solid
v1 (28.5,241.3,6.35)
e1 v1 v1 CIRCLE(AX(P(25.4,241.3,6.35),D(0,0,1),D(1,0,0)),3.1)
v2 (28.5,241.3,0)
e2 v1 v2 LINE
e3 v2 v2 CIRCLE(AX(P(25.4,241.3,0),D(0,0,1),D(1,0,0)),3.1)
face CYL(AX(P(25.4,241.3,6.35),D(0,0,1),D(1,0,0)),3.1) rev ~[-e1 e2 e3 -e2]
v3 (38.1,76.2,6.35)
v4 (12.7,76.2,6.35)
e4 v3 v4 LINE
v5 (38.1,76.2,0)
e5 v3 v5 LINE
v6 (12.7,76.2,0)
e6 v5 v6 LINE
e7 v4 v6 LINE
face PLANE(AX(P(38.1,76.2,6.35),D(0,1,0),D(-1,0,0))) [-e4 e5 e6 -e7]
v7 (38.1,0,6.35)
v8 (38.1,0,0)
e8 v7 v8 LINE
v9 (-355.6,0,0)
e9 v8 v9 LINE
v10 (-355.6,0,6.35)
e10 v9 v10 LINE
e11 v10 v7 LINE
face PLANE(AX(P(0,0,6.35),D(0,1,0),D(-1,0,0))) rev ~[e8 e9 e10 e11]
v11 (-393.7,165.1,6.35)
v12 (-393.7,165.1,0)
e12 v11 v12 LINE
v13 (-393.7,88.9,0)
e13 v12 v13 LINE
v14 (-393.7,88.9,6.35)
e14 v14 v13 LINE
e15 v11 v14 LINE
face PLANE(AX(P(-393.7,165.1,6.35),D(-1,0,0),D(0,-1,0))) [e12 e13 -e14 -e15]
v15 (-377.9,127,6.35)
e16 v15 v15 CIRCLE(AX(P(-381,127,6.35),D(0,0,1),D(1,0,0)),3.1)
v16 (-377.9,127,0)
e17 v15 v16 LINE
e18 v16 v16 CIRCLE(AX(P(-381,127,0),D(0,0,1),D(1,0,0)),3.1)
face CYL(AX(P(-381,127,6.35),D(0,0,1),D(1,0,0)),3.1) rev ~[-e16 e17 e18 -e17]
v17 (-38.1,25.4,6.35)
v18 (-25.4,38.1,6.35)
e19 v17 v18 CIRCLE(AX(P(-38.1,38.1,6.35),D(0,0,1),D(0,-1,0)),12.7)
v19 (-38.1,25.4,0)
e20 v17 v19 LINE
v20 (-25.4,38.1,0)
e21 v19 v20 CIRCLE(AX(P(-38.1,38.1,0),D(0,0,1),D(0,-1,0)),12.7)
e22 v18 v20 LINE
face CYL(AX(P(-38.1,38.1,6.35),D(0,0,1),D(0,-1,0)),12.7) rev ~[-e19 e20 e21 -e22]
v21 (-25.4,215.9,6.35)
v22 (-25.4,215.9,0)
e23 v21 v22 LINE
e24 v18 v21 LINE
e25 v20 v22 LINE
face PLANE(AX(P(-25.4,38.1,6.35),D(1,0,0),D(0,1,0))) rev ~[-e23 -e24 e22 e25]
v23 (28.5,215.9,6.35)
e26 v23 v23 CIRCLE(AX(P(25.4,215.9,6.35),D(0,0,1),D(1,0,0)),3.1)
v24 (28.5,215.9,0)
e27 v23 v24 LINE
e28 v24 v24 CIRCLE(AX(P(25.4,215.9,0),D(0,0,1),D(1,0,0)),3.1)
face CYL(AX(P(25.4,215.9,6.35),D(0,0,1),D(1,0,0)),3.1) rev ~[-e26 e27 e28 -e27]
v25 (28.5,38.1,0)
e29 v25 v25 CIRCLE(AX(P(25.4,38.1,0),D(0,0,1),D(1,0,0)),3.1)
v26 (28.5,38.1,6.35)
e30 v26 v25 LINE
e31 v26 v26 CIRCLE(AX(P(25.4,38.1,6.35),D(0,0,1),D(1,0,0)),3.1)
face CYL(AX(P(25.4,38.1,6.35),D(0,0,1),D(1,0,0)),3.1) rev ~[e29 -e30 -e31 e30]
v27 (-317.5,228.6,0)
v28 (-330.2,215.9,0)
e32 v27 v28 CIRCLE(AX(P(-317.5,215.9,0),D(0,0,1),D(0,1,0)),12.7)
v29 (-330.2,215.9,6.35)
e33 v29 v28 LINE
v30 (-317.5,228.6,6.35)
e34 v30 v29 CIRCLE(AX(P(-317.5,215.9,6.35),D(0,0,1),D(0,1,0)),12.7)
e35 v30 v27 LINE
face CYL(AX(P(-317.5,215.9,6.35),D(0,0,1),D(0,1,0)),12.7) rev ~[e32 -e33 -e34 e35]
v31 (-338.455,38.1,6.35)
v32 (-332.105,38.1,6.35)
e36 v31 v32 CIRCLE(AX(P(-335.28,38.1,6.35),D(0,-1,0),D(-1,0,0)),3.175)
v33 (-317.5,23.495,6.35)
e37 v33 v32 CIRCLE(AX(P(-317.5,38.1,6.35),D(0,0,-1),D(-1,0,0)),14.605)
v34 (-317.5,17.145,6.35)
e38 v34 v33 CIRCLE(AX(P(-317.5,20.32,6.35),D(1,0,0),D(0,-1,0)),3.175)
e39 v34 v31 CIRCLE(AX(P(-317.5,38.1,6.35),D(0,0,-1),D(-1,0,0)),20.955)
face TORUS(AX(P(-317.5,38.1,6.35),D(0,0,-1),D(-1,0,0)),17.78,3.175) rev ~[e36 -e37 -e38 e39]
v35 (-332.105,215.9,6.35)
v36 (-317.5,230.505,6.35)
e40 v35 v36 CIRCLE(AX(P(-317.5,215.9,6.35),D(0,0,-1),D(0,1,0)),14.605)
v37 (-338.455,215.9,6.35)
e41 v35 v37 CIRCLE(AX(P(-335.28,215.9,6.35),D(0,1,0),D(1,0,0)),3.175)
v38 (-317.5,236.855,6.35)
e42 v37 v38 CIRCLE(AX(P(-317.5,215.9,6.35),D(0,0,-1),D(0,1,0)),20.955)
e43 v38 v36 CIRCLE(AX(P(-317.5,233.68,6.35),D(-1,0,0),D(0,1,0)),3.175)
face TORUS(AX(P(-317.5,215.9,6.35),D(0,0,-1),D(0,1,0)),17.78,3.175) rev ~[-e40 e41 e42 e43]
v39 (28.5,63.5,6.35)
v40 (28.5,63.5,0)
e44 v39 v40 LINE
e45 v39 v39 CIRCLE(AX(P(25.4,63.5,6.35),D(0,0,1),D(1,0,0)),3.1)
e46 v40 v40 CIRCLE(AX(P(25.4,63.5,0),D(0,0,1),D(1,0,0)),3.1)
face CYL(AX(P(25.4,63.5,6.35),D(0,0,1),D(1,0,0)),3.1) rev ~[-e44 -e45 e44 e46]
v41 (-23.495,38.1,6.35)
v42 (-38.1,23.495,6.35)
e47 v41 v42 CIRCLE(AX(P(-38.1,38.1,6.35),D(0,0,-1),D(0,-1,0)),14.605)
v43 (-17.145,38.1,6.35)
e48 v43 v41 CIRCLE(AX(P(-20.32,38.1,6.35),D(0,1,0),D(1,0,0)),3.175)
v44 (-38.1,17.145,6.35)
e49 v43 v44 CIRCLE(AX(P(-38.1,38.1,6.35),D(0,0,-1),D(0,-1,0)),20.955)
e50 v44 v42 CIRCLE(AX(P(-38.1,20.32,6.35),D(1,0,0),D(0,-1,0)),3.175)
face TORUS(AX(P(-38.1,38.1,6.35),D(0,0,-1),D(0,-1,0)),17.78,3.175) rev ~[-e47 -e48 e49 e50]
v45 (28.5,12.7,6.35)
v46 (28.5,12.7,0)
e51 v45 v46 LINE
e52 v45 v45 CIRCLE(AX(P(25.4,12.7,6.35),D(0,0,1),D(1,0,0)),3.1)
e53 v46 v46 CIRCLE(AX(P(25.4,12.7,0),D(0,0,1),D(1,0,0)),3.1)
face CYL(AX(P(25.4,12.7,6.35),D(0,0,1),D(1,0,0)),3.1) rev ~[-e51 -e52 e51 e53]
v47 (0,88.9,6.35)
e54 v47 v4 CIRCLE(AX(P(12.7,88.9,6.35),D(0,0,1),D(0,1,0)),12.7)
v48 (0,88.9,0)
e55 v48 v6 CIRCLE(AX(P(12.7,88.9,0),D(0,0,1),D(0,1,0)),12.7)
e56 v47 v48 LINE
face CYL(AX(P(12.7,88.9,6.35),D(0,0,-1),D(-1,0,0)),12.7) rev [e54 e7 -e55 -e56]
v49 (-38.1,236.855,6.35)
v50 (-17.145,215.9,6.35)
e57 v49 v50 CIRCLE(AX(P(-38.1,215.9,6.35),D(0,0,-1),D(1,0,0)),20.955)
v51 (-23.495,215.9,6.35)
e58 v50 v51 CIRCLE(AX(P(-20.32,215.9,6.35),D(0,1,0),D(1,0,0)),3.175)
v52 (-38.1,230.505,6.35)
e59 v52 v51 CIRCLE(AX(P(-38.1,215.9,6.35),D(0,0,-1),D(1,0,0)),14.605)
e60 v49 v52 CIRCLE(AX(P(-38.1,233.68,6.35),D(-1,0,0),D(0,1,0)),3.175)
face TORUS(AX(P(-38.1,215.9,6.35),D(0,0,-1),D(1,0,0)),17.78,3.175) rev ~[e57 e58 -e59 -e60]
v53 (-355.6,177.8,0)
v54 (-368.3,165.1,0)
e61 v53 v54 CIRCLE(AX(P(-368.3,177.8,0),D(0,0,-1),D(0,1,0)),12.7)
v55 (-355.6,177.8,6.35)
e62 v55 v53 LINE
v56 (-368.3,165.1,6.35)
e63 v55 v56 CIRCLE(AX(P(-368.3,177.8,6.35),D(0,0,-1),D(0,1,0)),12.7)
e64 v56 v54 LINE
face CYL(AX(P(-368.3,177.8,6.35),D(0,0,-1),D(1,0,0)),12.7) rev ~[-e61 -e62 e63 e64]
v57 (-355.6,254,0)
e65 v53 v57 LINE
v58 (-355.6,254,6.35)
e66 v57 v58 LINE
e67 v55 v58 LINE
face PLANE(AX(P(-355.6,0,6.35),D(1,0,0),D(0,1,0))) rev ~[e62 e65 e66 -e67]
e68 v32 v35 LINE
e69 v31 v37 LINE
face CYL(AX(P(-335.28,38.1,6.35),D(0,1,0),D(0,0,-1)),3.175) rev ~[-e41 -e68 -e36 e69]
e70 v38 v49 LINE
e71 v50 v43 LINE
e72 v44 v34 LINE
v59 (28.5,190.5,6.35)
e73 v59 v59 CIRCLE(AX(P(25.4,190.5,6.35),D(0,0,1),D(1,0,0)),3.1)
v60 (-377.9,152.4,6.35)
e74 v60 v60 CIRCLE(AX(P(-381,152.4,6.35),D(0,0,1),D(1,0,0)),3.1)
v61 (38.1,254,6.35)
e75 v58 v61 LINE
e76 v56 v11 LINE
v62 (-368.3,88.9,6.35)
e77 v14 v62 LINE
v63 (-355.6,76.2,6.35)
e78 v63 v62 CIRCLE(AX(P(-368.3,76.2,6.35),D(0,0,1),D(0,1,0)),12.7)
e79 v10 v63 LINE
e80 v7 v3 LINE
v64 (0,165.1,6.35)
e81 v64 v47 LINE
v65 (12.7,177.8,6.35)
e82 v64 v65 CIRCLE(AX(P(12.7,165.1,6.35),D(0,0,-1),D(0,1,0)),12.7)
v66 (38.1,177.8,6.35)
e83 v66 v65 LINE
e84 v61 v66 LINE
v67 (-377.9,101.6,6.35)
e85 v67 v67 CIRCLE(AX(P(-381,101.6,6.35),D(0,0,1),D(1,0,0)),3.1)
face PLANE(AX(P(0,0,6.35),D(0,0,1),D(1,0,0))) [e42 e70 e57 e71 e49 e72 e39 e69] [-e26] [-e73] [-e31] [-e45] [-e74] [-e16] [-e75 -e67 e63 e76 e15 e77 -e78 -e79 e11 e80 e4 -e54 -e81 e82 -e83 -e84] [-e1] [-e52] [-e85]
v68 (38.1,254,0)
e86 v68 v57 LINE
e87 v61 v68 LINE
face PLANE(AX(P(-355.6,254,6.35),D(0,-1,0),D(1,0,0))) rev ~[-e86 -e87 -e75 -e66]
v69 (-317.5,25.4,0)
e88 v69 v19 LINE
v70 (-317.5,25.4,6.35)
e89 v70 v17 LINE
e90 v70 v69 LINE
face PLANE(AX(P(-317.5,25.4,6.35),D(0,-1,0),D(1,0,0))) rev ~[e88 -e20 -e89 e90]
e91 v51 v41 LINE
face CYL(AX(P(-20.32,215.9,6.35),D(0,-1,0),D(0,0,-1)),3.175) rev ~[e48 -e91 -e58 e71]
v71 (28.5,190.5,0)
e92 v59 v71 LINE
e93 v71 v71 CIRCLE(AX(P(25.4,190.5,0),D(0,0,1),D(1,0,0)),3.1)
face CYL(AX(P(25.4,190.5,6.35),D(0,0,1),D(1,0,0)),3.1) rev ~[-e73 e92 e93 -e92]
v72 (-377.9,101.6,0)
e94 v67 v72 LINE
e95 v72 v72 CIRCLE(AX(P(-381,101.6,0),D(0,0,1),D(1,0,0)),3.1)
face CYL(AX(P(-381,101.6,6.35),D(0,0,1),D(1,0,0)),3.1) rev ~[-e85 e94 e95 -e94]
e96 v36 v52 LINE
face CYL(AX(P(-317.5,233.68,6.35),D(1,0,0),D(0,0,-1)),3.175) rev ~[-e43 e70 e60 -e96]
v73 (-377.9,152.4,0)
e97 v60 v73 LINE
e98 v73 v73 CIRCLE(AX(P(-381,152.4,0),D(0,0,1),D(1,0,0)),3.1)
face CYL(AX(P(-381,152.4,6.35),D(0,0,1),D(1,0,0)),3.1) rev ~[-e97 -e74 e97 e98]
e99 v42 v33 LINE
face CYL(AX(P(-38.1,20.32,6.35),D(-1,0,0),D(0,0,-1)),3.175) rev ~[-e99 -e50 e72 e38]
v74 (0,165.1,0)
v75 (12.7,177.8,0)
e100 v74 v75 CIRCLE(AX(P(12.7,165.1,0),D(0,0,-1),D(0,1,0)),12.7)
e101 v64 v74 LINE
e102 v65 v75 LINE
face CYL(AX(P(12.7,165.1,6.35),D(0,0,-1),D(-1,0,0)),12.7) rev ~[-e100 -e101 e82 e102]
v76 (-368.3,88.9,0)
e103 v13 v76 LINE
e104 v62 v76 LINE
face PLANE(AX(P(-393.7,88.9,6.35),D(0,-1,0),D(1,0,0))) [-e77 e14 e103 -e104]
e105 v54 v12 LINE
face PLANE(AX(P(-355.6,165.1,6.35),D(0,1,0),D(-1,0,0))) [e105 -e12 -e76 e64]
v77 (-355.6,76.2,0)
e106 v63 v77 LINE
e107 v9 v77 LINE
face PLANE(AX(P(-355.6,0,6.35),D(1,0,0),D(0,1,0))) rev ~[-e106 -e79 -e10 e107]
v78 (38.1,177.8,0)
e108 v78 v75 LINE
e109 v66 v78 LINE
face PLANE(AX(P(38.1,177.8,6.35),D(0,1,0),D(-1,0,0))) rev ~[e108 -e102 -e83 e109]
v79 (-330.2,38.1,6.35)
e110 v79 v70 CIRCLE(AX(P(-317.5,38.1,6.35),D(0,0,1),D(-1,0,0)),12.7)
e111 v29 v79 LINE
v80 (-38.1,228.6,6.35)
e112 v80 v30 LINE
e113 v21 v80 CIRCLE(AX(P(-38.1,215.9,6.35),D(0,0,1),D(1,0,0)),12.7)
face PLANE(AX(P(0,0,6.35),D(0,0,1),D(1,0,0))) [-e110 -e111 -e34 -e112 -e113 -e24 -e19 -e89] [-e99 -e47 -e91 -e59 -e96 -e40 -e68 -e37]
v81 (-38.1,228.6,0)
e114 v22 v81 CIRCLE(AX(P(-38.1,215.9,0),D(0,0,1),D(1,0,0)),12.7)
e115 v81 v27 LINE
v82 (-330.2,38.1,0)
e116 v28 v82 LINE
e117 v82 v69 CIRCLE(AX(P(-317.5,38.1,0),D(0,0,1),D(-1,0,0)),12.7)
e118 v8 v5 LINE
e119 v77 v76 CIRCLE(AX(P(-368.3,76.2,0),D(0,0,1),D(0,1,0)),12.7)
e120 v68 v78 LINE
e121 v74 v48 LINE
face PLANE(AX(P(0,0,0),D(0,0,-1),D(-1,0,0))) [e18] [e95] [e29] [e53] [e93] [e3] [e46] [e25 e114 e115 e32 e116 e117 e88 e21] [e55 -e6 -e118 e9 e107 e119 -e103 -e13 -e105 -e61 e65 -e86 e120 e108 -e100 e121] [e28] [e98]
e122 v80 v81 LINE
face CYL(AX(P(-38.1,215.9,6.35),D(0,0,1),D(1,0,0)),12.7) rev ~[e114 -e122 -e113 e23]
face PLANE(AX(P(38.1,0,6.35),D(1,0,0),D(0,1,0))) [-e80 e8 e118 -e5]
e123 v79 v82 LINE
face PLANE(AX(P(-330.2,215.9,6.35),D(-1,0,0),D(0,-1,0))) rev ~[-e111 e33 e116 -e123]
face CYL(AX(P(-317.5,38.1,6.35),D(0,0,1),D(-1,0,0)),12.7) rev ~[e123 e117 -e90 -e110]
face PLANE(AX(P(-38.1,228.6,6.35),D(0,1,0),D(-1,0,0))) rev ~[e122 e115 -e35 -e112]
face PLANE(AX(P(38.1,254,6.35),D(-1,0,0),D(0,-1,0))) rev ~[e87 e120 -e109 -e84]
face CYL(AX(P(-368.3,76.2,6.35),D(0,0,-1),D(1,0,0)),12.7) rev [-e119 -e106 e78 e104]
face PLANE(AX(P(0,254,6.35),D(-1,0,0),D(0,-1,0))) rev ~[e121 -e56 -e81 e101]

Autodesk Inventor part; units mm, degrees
ref_plane "YZ Plane" through (0, 0, 0) normal (1, 0, 0) x (0, 1, 0)
ref_plane "XZ Plane" through (0, 0, 0) normal (0, 1, 0) x (-1, 0, 0)
sketch "Sketch1" plane through (0, 0, 0) normal (0, 0, 1) x (1, 0, 0)
  line L0 (0, 0) -> (-355.6, 0)
  line L1 (-355.6, 0) -> (-355.6, 254)
  line L2 (-355.6, 254) -> (0, 254)
  line L3 (0, 254) -> (0, 0)
  line L4 (-38.1, 25.4) -> (-317.5, 25.4)
  line L5 (-330.2, 38.1) -> (-330.2, 215.9)
  line L6 (-317.5, 228.6) -> (-38.1, 228.6)
  line L7 (-25.4, 215.9) -> (-25.4, 38.1)
  line L8 (-12.7, 241.3) -> (-342.9, 241.3) construction
  line L9 (-342.9, 241.3) -> (-342.9, 12.7) construction
  line L10 (-342.9, 12.7) -> (-12.7, 12.7) construction
  line L11 (-12.7, 12.7) -> (-12.7, 241.3) construction
  circle A0 centre (-342.9, 241.3) radius 3.1
  circle A1 centre (-342.9, 215.9) radius 3.1
  circle A2 centre (-342.9, 190.5) radius 3.1
  circle A3 centre (-342.9, 165.1) radius 3.1
  circle A4 centre (-342.9, 139.7) radius 3.1
  circle A5 centre (-342.9, 114.3) radius 3.1
  circle A6 centre (-342.9, 88.9) radius 3.1
  circle A7 centre (-342.9, 63.5) radius 3.1
  circle A8 centre (-342.9, 38.1) radius 3.1
  circle A9 centre (-342.9, 12.7) radius 3.1
  circle A10 centre (-317.5, 241.3) radius 3.1
  circle A11 centre (-292.1, 241.3) radius 3.1
  circle A12 centre (-266.7, 241.3) radius 3.1
  circle A13 centre (-241.3, 241.3) radius 3.1
  circle A14 centre (-215.9, 241.3) radius 3.1
  circle A15 centre (-190.5, 241.3) radius 3.1
  circle A16 centre (-165.1, 241.3) radius 3.1
  circle A17 centre (-139.7, 241.3) radius 3.1
  circle A18 centre (-114.3, 241.3) radius 3.1
  circle A19 centre (-88.9, 241.3) radius 3.1
  circle A20 centre (-63.5, 241.3) radius 3.1
  circle A21 centre (-38.1, 241.3) radius 3.1
  circle A22 centre (-12.7, 241.3) radius 3.1
  circle A23 centre (-12.7, 215.9) radius 3.1
  circle A24 centre (-12.7, 190.5) radius 3.1
  circle A25 centre (-12.7, 165.1) radius 3.1
  circle A26 centre (-12.7, 139.7) radius 3.1
  circle A27 centre (-12.7, 114.3) radius 3.1
  circle A28 centre (-12.7, 88.9) radius 3.1
  circle A29 centre (-12.7, 63.5) radius 3.1
  circle A30 centre (-12.7, 38.1) radius 3.1
  circle A31 centre (-12.7, 12.7) radius 3.1
  circle A32 centre (-38.1, 12.7) radius 3.1
  circle A33 centre (-63.5, 12.7) radius 3.1
  circle A34 centre (-88.9, 12.7) radius 3.1
  circle A35 centre (-114.3, 12.7) radius 3.1
  circle A36 centre (-139.7, 12.7) radius 3.1
  circle A37 centre (-165.1, 12.7) radius 3.1
  circle A38 centre (-190.5, 12.7) radius 3.1
  circle A39 centre (-215.9, 12.7) radius 3.1
  circle A40 centre (-241.3, 12.7) radius 3.1
  circle A41 centre (-266.7, 12.7) radius 3.1
  circle A42 centre (-292.1, 12.7) radius 3.1
  circle A43 centre (-317.5, 12.7) radius 3.1
  arc A44 (-317.5, 228.6) -> (-330.2, 215.9) centre (-317.5, 215.9) ccw
  arc A45 (-330.2, 38.1) -> (-317.5, 25.4) centre (-317.5, 38.1) ccw
  arc A46 (-38.1, 25.4) -> (-25.4, 38.1) centre (-38.1, 38.1) ccw
  arc A47 (-25.4, 215.9) -> (-38.1, 228.6) centre (-38.1, 215.9) ccw
  dimension "d0" = 355.6
  dimension "d1" = 254
  dimension "d2" = 25.4
  dimension "d3" = 12.7
  dimension "d4" = 6.2
  dimension "d7" = 25.4
  dimension "d14" = 25.4
  dimension "d21" = 25.4
  dimension "d28" = 25.4
  dimension "d33" = 12.7
extrude "Extrusion1" add sketch "Sketch1" along normal blind 6.35
sketch "Sketch5" plane through (0, 0, 6.35) normal (0, 0, 1) x (1, 0, 0)
  arc A0 (-38.1, 25.4) -> (-25.4, 38.1) centre (-38.1, 38.1) ccw construction
  circle A1 centre (-12.7, 38.1) radius 3.1 construction
  circle A2 centre (-38.1, 38.1) radius 25.4 construction
  arc A3 (-330.2, 38.1) -> (-317.5, 25.4) centre (-317.5, 38.1) ccw construction
  circle A4 centre (-317.5, 38.1) radius 25.4 construction
  circle A5 centre (-342.9, 215.9) radius 3.1 construction
  circle A6 centre (-317.5, 215.9) radius 25.4 construction
  circle A7 centre (-12.7, 215.9) radius 3.1 construction
  circle A8 centre (-38.1, 215.9) radius 25.4 construction
  line L0 (-38.1, 215.9) -> (-20.1395, 233.8605) construction
  line L1 (-38.1, 215.9) -> (-12.7, 215.9) construction
  line L2 (-38.1, 38.1) -> (-20.1395, 20.1395) construction
  line L3 (-317.5, 38.1) -> (-335.4605, 20.1395) construction
  line L4 (-317.5, 215.9) -> (-335.4605, 233.8605) construction
  circle A9 centre (-335.4605, 233.8605) radius 3.1
  circle A10 centre (-20.1395, 233.8605) radius 3.1
  circle A11 centre (-20.1395, 20.1395) radius 3.1
  circle A12 centre (-335.4605, 20.1395) radius 3.1
  point P0 (0, 0)
  dimension "d49" = 45
  dimension "d50" = 6.2
  dimension "d51" = 6.2
  dimension "d52" = 6.2
  dimension "d53" = 6.2
extrude "Extrusion3" cut sketch "Sketch5" against normal blind 6.35
sketch "Sketch9" plane through (0, 0, 6.35) normal (0, 0, 1) x (1, 0, 0)
  circle A0 centre (-20.1395, 20.1395) radius 3.1 projected
  circle A1 centre (-20.1395, 20.1395) radius 3.1
  circle A2 centre (-38.1, 12.7) radius 3.1 projected
  circle A3 centre (-38.1, 12.7) radius 3.1
  circle A4 centre (-335.4605, 20.1395) radius 3.1 projected
  circle A5 centre (-335.4605, 20.1395) radius 3.1
  circle A6 centre (-335.4605, 233.8605) radius 3.1 projected
  circle A7 centre (-335.4605, 233.8605) radius 3.1
  circle A8 centre (-20.1395, 233.8605) radius 3.1 projected
  circle A9 centre (-20.1395, 233.8605) radius 3.1
  circle A10 centre (-38.1, 241.3) radius 3.1 projected
  circle A11 centre (-38.1, 241.3) radius 3.1
  circle A12 centre (-266.7, 241.3) radius 3.1 projected
  line L0 (-266.7, 241.3) -> (-275.1476, 241.3) construction
  line L1 (-292.1, 241.3) -> (-300.5476, 241.3) construction
  circle A13 centre (-63.5, 241.3) radius 3.1
  line L2 (-317.5, 241.3) -> (-325.9476, 241.3) construction
  circle A14 centre (-88.9, 241.3) radius 3.1
  line L3 (-342.9, 241.3) -> (-351.3476, 241.3) construction
  circle A15 centre (-114.3, 241.3) radius 3.1
  line L4 (-368.3, 241.3) -> (-376.7476, 241.3) construction
  circle A16 centre (-139.7, 241.3) radius 3.1
  line L5 (-393.7, 241.3) -> (-402.1476, 241.3) construction
  circle A17 centre (-165.1, 241.3) radius 3.1
  line L6 (-419.1, 241.3) -> (-427.5476, 241.3) construction
  circle A18 centre (-190.5, 241.3) radius 3.1
  line L7 (-444.5, 241.3) -> (-452.9476, 241.3) construction
  circle A19 centre (-215.9, 241.3) radius 3.1
  line L8 (-469.9, 241.3) -> (-478.3476, 241.3) construction
  circle A20 centre (-241.3, 241.3) radius 3.1
  line L9 (-495.3, 241.3) -> (-503.7476, 241.3) construction
  circle A21 centre (-266.7, 241.3) radius 3.1
  line L10 (-520.7, 241.3) -> (-529.1476, 241.3) construction
  circle A22 centre (-292.1, 241.3) radius 3.1
  line L11 (-546.1, 241.3) -> (-554.5476, 241.3) construction
  circle A23 centre (-317.5, 241.3) radius 3.1
  circle A24 centre (-342.9, 215.9) radius 3.1 projected
  circle A25 centre (-342.9, 215.9) radius 3.1
  line L12 (-342.9, 190.5569) -> (-342.9, 174.56) construction
  circle A26 centre (-63.5, 12.7) radius 3.1 construction
  line L13 (-63.5, 12.7) -> (-88.9, 12.7) construction
  circle A27 centre (-12.7, 38.1) radius 3.1 construction
  circle A28 centre (-12.7, 63.5) radius 3.1 construction
  line L14 (-12.7, 38.1) -> (-12.7, 63.5) construction
  circle A29 centre (-12.7, 215.9) radius 3.1 projected
  circle A30 centre (-12.7, 215.9) radius 3.1
  circle A31 centre (-12.7, 190.5) radius 3.1
  circle A32 centre (-12.7, 165.1) radius 3.1
  circle A33 centre (-12.7, 139.7) radius 3.1
  circle A34 centre (-12.7, 114.3) radius 3.1
  circle A35 centre (-12.7, 88.9) radius 3.1
  circle A36 centre (-12.7, 63.5) radius 3.1
  circle A37 centre (-12.7, 38.1) radius 3.1
  circle A38 centre (-63.5, 12.7) radius 3.1
  circle A39 centre (-88.9, 12.7) radius 3.1
  circle A40 centre (-114.3, 12.7) radius 3.1
  circle A41 centre (-139.7, 12.7) radius 3.1
  circle A42 centre (-165.1, 12.7) radius 3.1
  circle A43 centre (-190.5, 12.7) radius 3.1
  circle A44 centre (-215.9, 12.7) radius 3.1
  circle A45 centre (-241.3, 12.7) radius 3.1
  circle A46 centre (-266.7, 12.7) radius 3.1
  circle A47 centre (-292.1, 12.7) radius 3.1
  circle A48 centre (-317.5, 12.7) radius 3.1
  circle A49 centre (-342.9, 190.5) radius 3.1
  circle A50 centre (-342.9, 165.1) radius 3.1
  circle A51 centre (-342.9, 139.7) radius 3.1
  circle A52 centre (-342.9, 114.3) radius 3.1
  circle A53 centre (-342.9, 88.9) radius 3.1
  circle A54 centre (-342.9, 63.5) radius 3.1
  circle A55 centre (-342.9, 38.1) radius 3.1
  line L15 (-355.6, 254) -> (0, 254) projected
  line L16 (-355.6, 254) -> (0, 254)
  line L17 (0, 254) -> (0, 0)
  line L18 (0, 0) -> (-355.6, 0)
  line L19 (-355.6, 0) -> (-355.6, 254)
  dimension "d66" = 25.4
  dimension "d73" = 25.4
  dimension "d80" = 25.4
  dimension "d87" = 25.4
extrude "Extrusion4" add sketch "Sketch9" against normal blind 12.7
sketch "Sketch10" plane through (0, 0, 6.35) normal (0, 0, 1) x (1, 0, 0)
  line L0 (-355.6, 0) -> (-355.6, 254) construction
  line L1 (0, 0) -> (-355.6, 0) construction
  line L2 (-355.6, 0) -> (-355.6, 254) construction
  line L3 (-355.6, 254) -> (0, 254) construction
  line L4 (0, 254) -> (0, 0) construction
  line L5 (-38.1, 228.6) -> (-317.5, 228.6)
  line L6 (-330.2, 215.9) -> (-330.2, 38.1)
  line L7 (-317.5, 25.4) -> (-38.1, 25.4)
  line L8 (-25.4, 38.1) -> (-25.4, 215.9)
  arc A0 (-317.5, 228.6) -> (-330.2, 215.9) centre (-317.5, 215.9) ccw
  arc A1 (-25.4, 215.9) -> (-38.1, 228.6) centre (-38.1, 215.9) ccw
  arc A2 (-38.1, 25.4) -> (-25.4, 38.1) centre (-38.1, 38.1) ccw
  arc A3 (-330.2, 38.1) -> (-317.5, 25.4) centre (-317.5, 38.1) ccw
  dimension "d94" = 25.4
  dimension "d95" = 12.7
extrude "Extrusion5" cut sketch "Sketch10" against normal blind 25.4
sketch "Sketch11" plane through (0, 0, -6.35) normal (0, 0, -1) x (-1, 0, 0)
  line L0 (355.6, 0) -> (355.6, 254) projected
  line L1 (0, 0) -> (355.6, 0)
  line L2 (355.6, 0) -> (355.6, 254)
  line L3 (355.6, 254) -> (0, 254)
  line L4 (0, 254) -> (0, 0)
extrude "Extrusion6" cut sketch "Sketch11" against normal blind 6.35
sketch "Sketch12" plane through (0, 0, 6.35) normal (0, 0, 1) x (1, 0, 0)
  line L0 (-38.1, 20.32) -> (-317.5, 20.32)
  line L1 (-335.28, 38.1) -> (-335.28, 215.9)
  line L2 (-317.5, 233.68) -> (-38.1, 233.68)
  line L3 (-20.32, 215.9) -> (-20.32, 38.1)
  line L4 (-355.6, 254) -> (-355.6, 0) projected
  line L5 (-355.6, 0) -> (0, 0) projected
  arc A0 (-335.28, 38.1) -> (-317.5, 20.32) centre (-317.5, 38.1) ccw
  arc A1 (-317.5, 233.68) -> (-335.28, 215.9) centre (-317.5, 215.9) ccw
  arc A2 (-20.32, 215.9) -> (-38.1, 233.68) centre (-38.1, 215.9) ccw
  arc A3 (-38.1, 20.32) -> (-20.32, 38.1) centre (-38.1, 38.1) ccw
  point P0 (-335.28, 233.68)
  point P1 (-335.28, 20.32)
  point P2 (-20.32, 233.68)
  dimension "d100" = 314.96
  dimension "d101" = 213.36
  dimension "d102" = 20.32
  dimension "d103" = 20.32
  dimension "d104" = 17.78
ref_plane "Work Plane2" through (-279.4, 38.1, 6.35) normal (1, 0, 0) x (0, 0, -1)
sketch "Sketch13" plane through (-279.4, 38.1, 6.35) normal (1, 0, 0) x (0, 0, -1)
  line L0 (0, 215.9) -> (0, -38.1) projected
  circle A0 centre (0, -17.78) radius 3.175
  line L1 (0, -38.1) -> (6.35, -38.1) projected
  dimension "d106" = 6.35
  dimension "d107" = 20.32
sweep "Sweep3" cut profiles "Sketch13" path "Sketch12" path curves L0 A3 L3 A2 L2 A1 L1 A0
sketch "Sketch14" plane through (0, 0, 6.35) normal (0, 0, 1) x (1, 0, 0)
  circle A0 centre (-20.1395, 20.1395) radius 3.1 projected
  circle A1 centre (-20.1395, 20.1395) radius 3.1
  circle A2 centre (-38.1, 12.7) radius 3.1 projected
  circle A3 centre (-38.1, 12.7) radius 3.1
  circle A4 centre (-12.7, 38.1) radius 3.1 projected
  circle A5 centre (-12.7, 38.1) radius 3.1
  circle A6 centre (-20.1395, 233.8605) radius 3.1 projected
  circle A7 centre (-20.1395, 233.8605) radius 3.1
  circle A8 centre (-38.1, 241.3) radius 3.1 projected
  circle A9 centre (-38.1, 241.3) radius 3.1
  circle A10 centre (-335.4605, 233.8605) radius 3.1 projected
  circle A11 centre (-335.4605, 233.8605) radius 3.1
  circle A12 centre (-335.4605, 20.1395) radius 3.1 projected
  circle A13 centre (-335.4605, 20.1395) radius 3.1
  circle A14 centre (-342.9, 38.1) radius 3.1 projected
  circle A15 centre (-342.9, 38.1) radius 3.1
  circle A16 centre (-292.1, 12.7) radius 3.1 construction
  circle A17 centre (-266.7, 12.7) radius 3.1 construction
  line L0 (-292.1, 12.7) -> (-266.7, 12.7) construction
  circle A18 centre (-342.9, 63.5) radius 3.1 construction
  circle A19 centre (-342.9, 88.9) radius 3.1 construction
  line L1 (-342.9, 63.5) -> (-342.9, 88.9) construction
  circle A20 centre (-292.1, 241.3) radius 3.1 construction
  line L2 (-292.1, 241.3) -> (-266.7, 241.3) construction
  circle A21 centre (-12.7, 215.9) radius 3.1 construction
  circle A22 centre (-12.7, 190.5) radius 3.1 construction
  line L3 (-12.7, 215.9) -> (-12.7, 190.5) construction
  circle A23 centre (-63.5, 241.3) radius 3.1
  circle A24 centre (-88.9, 241.3) radius 3.1
  circle A25 centre (-114.3, 241.3) radius 3.1
  circle A26 centre (-139.7, 241.3) radius 3.1
  circle A27 centre (-165.1, 241.3) radius 3.1
  circle A28 centre (-190.5, 241.3) radius 3.1
  circle A29 centre (-215.9, 241.3) radius 3.1
  circle A30 centre (-241.3, 241.3) radius 3.1
  circle A31 centre (-266.7, 241.3) radius 3.1
  circle A32 centre (-292.1, 241.3) radius 3.1
  circle A33 centre (-317.5, 241.3) radius 3.1
  circle A34 centre (-12.7, 63.5) radius 3.1
  circle A35 centre (-12.7, 88.9) radius 3.1
  circle A36 centre (-12.7, 114.3) radius 3.1
  circle A37 centre (-12.7, 139.7) radius 3.1
  circle A38 centre (-12.7, 165.1) radius 3.1
  circle A39 centre (-12.7, 190.5) radius 3.1
  circle A40 centre (-12.7, 215.9) radius 3.1
  circle A41 centre (-63.5, 12.7) radius 3.1
  circle A42 centre (-88.9, 12.7) radius 3.1
  circle A43 centre (-114.3, 12.7) radius 3.1
  circle A44 centre (-139.7, 12.7) radius 3.1
  circle A45 centre (-165.1, 12.7) radius 3.1
  circle A46 centre (-190.5, 12.7) radius 3.1
  circle A47 centre (-215.9, 12.7) radius 3.1
  circle A48 centre (-241.3, 12.7) radius 3.1
  circle A49 centre (-266.7, 12.7) radius 3.1
  circle A50 centre (-292.1, 12.7) radius 3.1
  circle A51 centre (-317.5, 12.7) radius 3.1
  circle A52 centre (-342.9, 63.5) radius 3.1
  circle A53 centre (-342.9, 88.9) radius 3.1
  circle A54 centre (-342.9, 114.3) radius 3.1
  circle A55 centre (-342.9, 139.7) radius 3.1
  circle A56 centre (-342.9, 165.1) radius 3.1
  circle A57 centre (-342.9, 190.5) radius 3.1
  circle A58 centre (-342.9, 215.9) radius 3.1
  point P0 (0, 0)
  dimension "d112" = 25.4
  dimension "d119" = 25.4
  dimension "d126" = 25.4
  dimension "d133" = 25.4
extrude "Extrusion7" add sketch "Sketch14" against normal blind 6.35
sketch "Sketch15" plane through (0, 0, 6.35) normal (0, 0, 1) x (1, 0, 0)
  line L0 (-355.6, 254) -> (-355.6, 0) projected
  line L1 (-355.6, 165.1) -> (-393.7, 165.1)
  line L2 (-393.7, 165.1) -> (-393.7, 88.9)
  line L3 (-393.7, 88.9) -> (-355.6, 88.9)
  line L4 (-355.6, 88.9) -> (-355.6, 165.1)
  line L5 (0, 254) -> (-355.6, 254) projected
  line L6 (0, 254) -> (38.1, 254)
  line L7 (38.1, 254) -> (38.1, 177.8)
  line L8 (38.1, 177.8) -> (0, 177.8)
  line L9 (0, 177.8) -> (0, 254)
  line L10 (-355.6, 0) -> (0, 0) projected
  line L11 (0, 0) -> (38.1, 0)
  line L12 (38.1, 0) -> (38.1, 76.2)
  line L13 (38.1, 76.2) -> (0, 76.2)
  line L14 (0, 76.2) -> (0, 0)
  line L15 (-381, 165.1) -> (-381, 88.9) construction
  line L16 (25.4, 254) -> (25.4, 0) construction
  circle A0 centre (-381, 152.4) radius 3.1
  circle A1 centre (-381, 127) radius 3.1
  circle A2 centre (-381, 101.6) radius 3.1
  circle A3 centre (25.4, 241.3) radius 3.1
  circle A4 centre (25.4, 215.9) radius 3.1
  circle A5 centre (25.4, 190.5) radius 3.1
  circle A6 centre (25.4, 63.5) radius 3.1
  circle A7 centre (25.4, 38.1) radius 3.1
  circle A8 centre (25.4, 12.7) radius 3.1
  dimension "d140" = 38.1
  dimension "d141" = 76.2
  dimension "d142" = 88.9
  dimension "d143" = 38.1
  dimension "d144" = 76.2
  dimension "d145" = 38.1
  dimension "d146" = 76.2
  dimension "d147" = 12.7
  dimension "d148" = 12.7
  dimension "d149" = 6.2
  dimension "d150" = 12.7
  dimension "d153" = 25.4
  dimension "d158" = 6.2
  dimension "d159" = 12.7
  dimension "d162" = 25.4
  dimension "d167" = 6.2
  dimension "d168" = 12.7
  dimension "d171" = 25.4
extrude "Extrusion8" add sketch "Sketch15" against normal blind 6.35
fillet "Fillet2" radius 12.7 4 edges at (-355.6, 88.9, 3.175) (-355.6, 165.1, 3.175) (0, 76.2, 3.175) (0, 177.8, 3.175)
properties part number "top" material "Aluminum 6061"
